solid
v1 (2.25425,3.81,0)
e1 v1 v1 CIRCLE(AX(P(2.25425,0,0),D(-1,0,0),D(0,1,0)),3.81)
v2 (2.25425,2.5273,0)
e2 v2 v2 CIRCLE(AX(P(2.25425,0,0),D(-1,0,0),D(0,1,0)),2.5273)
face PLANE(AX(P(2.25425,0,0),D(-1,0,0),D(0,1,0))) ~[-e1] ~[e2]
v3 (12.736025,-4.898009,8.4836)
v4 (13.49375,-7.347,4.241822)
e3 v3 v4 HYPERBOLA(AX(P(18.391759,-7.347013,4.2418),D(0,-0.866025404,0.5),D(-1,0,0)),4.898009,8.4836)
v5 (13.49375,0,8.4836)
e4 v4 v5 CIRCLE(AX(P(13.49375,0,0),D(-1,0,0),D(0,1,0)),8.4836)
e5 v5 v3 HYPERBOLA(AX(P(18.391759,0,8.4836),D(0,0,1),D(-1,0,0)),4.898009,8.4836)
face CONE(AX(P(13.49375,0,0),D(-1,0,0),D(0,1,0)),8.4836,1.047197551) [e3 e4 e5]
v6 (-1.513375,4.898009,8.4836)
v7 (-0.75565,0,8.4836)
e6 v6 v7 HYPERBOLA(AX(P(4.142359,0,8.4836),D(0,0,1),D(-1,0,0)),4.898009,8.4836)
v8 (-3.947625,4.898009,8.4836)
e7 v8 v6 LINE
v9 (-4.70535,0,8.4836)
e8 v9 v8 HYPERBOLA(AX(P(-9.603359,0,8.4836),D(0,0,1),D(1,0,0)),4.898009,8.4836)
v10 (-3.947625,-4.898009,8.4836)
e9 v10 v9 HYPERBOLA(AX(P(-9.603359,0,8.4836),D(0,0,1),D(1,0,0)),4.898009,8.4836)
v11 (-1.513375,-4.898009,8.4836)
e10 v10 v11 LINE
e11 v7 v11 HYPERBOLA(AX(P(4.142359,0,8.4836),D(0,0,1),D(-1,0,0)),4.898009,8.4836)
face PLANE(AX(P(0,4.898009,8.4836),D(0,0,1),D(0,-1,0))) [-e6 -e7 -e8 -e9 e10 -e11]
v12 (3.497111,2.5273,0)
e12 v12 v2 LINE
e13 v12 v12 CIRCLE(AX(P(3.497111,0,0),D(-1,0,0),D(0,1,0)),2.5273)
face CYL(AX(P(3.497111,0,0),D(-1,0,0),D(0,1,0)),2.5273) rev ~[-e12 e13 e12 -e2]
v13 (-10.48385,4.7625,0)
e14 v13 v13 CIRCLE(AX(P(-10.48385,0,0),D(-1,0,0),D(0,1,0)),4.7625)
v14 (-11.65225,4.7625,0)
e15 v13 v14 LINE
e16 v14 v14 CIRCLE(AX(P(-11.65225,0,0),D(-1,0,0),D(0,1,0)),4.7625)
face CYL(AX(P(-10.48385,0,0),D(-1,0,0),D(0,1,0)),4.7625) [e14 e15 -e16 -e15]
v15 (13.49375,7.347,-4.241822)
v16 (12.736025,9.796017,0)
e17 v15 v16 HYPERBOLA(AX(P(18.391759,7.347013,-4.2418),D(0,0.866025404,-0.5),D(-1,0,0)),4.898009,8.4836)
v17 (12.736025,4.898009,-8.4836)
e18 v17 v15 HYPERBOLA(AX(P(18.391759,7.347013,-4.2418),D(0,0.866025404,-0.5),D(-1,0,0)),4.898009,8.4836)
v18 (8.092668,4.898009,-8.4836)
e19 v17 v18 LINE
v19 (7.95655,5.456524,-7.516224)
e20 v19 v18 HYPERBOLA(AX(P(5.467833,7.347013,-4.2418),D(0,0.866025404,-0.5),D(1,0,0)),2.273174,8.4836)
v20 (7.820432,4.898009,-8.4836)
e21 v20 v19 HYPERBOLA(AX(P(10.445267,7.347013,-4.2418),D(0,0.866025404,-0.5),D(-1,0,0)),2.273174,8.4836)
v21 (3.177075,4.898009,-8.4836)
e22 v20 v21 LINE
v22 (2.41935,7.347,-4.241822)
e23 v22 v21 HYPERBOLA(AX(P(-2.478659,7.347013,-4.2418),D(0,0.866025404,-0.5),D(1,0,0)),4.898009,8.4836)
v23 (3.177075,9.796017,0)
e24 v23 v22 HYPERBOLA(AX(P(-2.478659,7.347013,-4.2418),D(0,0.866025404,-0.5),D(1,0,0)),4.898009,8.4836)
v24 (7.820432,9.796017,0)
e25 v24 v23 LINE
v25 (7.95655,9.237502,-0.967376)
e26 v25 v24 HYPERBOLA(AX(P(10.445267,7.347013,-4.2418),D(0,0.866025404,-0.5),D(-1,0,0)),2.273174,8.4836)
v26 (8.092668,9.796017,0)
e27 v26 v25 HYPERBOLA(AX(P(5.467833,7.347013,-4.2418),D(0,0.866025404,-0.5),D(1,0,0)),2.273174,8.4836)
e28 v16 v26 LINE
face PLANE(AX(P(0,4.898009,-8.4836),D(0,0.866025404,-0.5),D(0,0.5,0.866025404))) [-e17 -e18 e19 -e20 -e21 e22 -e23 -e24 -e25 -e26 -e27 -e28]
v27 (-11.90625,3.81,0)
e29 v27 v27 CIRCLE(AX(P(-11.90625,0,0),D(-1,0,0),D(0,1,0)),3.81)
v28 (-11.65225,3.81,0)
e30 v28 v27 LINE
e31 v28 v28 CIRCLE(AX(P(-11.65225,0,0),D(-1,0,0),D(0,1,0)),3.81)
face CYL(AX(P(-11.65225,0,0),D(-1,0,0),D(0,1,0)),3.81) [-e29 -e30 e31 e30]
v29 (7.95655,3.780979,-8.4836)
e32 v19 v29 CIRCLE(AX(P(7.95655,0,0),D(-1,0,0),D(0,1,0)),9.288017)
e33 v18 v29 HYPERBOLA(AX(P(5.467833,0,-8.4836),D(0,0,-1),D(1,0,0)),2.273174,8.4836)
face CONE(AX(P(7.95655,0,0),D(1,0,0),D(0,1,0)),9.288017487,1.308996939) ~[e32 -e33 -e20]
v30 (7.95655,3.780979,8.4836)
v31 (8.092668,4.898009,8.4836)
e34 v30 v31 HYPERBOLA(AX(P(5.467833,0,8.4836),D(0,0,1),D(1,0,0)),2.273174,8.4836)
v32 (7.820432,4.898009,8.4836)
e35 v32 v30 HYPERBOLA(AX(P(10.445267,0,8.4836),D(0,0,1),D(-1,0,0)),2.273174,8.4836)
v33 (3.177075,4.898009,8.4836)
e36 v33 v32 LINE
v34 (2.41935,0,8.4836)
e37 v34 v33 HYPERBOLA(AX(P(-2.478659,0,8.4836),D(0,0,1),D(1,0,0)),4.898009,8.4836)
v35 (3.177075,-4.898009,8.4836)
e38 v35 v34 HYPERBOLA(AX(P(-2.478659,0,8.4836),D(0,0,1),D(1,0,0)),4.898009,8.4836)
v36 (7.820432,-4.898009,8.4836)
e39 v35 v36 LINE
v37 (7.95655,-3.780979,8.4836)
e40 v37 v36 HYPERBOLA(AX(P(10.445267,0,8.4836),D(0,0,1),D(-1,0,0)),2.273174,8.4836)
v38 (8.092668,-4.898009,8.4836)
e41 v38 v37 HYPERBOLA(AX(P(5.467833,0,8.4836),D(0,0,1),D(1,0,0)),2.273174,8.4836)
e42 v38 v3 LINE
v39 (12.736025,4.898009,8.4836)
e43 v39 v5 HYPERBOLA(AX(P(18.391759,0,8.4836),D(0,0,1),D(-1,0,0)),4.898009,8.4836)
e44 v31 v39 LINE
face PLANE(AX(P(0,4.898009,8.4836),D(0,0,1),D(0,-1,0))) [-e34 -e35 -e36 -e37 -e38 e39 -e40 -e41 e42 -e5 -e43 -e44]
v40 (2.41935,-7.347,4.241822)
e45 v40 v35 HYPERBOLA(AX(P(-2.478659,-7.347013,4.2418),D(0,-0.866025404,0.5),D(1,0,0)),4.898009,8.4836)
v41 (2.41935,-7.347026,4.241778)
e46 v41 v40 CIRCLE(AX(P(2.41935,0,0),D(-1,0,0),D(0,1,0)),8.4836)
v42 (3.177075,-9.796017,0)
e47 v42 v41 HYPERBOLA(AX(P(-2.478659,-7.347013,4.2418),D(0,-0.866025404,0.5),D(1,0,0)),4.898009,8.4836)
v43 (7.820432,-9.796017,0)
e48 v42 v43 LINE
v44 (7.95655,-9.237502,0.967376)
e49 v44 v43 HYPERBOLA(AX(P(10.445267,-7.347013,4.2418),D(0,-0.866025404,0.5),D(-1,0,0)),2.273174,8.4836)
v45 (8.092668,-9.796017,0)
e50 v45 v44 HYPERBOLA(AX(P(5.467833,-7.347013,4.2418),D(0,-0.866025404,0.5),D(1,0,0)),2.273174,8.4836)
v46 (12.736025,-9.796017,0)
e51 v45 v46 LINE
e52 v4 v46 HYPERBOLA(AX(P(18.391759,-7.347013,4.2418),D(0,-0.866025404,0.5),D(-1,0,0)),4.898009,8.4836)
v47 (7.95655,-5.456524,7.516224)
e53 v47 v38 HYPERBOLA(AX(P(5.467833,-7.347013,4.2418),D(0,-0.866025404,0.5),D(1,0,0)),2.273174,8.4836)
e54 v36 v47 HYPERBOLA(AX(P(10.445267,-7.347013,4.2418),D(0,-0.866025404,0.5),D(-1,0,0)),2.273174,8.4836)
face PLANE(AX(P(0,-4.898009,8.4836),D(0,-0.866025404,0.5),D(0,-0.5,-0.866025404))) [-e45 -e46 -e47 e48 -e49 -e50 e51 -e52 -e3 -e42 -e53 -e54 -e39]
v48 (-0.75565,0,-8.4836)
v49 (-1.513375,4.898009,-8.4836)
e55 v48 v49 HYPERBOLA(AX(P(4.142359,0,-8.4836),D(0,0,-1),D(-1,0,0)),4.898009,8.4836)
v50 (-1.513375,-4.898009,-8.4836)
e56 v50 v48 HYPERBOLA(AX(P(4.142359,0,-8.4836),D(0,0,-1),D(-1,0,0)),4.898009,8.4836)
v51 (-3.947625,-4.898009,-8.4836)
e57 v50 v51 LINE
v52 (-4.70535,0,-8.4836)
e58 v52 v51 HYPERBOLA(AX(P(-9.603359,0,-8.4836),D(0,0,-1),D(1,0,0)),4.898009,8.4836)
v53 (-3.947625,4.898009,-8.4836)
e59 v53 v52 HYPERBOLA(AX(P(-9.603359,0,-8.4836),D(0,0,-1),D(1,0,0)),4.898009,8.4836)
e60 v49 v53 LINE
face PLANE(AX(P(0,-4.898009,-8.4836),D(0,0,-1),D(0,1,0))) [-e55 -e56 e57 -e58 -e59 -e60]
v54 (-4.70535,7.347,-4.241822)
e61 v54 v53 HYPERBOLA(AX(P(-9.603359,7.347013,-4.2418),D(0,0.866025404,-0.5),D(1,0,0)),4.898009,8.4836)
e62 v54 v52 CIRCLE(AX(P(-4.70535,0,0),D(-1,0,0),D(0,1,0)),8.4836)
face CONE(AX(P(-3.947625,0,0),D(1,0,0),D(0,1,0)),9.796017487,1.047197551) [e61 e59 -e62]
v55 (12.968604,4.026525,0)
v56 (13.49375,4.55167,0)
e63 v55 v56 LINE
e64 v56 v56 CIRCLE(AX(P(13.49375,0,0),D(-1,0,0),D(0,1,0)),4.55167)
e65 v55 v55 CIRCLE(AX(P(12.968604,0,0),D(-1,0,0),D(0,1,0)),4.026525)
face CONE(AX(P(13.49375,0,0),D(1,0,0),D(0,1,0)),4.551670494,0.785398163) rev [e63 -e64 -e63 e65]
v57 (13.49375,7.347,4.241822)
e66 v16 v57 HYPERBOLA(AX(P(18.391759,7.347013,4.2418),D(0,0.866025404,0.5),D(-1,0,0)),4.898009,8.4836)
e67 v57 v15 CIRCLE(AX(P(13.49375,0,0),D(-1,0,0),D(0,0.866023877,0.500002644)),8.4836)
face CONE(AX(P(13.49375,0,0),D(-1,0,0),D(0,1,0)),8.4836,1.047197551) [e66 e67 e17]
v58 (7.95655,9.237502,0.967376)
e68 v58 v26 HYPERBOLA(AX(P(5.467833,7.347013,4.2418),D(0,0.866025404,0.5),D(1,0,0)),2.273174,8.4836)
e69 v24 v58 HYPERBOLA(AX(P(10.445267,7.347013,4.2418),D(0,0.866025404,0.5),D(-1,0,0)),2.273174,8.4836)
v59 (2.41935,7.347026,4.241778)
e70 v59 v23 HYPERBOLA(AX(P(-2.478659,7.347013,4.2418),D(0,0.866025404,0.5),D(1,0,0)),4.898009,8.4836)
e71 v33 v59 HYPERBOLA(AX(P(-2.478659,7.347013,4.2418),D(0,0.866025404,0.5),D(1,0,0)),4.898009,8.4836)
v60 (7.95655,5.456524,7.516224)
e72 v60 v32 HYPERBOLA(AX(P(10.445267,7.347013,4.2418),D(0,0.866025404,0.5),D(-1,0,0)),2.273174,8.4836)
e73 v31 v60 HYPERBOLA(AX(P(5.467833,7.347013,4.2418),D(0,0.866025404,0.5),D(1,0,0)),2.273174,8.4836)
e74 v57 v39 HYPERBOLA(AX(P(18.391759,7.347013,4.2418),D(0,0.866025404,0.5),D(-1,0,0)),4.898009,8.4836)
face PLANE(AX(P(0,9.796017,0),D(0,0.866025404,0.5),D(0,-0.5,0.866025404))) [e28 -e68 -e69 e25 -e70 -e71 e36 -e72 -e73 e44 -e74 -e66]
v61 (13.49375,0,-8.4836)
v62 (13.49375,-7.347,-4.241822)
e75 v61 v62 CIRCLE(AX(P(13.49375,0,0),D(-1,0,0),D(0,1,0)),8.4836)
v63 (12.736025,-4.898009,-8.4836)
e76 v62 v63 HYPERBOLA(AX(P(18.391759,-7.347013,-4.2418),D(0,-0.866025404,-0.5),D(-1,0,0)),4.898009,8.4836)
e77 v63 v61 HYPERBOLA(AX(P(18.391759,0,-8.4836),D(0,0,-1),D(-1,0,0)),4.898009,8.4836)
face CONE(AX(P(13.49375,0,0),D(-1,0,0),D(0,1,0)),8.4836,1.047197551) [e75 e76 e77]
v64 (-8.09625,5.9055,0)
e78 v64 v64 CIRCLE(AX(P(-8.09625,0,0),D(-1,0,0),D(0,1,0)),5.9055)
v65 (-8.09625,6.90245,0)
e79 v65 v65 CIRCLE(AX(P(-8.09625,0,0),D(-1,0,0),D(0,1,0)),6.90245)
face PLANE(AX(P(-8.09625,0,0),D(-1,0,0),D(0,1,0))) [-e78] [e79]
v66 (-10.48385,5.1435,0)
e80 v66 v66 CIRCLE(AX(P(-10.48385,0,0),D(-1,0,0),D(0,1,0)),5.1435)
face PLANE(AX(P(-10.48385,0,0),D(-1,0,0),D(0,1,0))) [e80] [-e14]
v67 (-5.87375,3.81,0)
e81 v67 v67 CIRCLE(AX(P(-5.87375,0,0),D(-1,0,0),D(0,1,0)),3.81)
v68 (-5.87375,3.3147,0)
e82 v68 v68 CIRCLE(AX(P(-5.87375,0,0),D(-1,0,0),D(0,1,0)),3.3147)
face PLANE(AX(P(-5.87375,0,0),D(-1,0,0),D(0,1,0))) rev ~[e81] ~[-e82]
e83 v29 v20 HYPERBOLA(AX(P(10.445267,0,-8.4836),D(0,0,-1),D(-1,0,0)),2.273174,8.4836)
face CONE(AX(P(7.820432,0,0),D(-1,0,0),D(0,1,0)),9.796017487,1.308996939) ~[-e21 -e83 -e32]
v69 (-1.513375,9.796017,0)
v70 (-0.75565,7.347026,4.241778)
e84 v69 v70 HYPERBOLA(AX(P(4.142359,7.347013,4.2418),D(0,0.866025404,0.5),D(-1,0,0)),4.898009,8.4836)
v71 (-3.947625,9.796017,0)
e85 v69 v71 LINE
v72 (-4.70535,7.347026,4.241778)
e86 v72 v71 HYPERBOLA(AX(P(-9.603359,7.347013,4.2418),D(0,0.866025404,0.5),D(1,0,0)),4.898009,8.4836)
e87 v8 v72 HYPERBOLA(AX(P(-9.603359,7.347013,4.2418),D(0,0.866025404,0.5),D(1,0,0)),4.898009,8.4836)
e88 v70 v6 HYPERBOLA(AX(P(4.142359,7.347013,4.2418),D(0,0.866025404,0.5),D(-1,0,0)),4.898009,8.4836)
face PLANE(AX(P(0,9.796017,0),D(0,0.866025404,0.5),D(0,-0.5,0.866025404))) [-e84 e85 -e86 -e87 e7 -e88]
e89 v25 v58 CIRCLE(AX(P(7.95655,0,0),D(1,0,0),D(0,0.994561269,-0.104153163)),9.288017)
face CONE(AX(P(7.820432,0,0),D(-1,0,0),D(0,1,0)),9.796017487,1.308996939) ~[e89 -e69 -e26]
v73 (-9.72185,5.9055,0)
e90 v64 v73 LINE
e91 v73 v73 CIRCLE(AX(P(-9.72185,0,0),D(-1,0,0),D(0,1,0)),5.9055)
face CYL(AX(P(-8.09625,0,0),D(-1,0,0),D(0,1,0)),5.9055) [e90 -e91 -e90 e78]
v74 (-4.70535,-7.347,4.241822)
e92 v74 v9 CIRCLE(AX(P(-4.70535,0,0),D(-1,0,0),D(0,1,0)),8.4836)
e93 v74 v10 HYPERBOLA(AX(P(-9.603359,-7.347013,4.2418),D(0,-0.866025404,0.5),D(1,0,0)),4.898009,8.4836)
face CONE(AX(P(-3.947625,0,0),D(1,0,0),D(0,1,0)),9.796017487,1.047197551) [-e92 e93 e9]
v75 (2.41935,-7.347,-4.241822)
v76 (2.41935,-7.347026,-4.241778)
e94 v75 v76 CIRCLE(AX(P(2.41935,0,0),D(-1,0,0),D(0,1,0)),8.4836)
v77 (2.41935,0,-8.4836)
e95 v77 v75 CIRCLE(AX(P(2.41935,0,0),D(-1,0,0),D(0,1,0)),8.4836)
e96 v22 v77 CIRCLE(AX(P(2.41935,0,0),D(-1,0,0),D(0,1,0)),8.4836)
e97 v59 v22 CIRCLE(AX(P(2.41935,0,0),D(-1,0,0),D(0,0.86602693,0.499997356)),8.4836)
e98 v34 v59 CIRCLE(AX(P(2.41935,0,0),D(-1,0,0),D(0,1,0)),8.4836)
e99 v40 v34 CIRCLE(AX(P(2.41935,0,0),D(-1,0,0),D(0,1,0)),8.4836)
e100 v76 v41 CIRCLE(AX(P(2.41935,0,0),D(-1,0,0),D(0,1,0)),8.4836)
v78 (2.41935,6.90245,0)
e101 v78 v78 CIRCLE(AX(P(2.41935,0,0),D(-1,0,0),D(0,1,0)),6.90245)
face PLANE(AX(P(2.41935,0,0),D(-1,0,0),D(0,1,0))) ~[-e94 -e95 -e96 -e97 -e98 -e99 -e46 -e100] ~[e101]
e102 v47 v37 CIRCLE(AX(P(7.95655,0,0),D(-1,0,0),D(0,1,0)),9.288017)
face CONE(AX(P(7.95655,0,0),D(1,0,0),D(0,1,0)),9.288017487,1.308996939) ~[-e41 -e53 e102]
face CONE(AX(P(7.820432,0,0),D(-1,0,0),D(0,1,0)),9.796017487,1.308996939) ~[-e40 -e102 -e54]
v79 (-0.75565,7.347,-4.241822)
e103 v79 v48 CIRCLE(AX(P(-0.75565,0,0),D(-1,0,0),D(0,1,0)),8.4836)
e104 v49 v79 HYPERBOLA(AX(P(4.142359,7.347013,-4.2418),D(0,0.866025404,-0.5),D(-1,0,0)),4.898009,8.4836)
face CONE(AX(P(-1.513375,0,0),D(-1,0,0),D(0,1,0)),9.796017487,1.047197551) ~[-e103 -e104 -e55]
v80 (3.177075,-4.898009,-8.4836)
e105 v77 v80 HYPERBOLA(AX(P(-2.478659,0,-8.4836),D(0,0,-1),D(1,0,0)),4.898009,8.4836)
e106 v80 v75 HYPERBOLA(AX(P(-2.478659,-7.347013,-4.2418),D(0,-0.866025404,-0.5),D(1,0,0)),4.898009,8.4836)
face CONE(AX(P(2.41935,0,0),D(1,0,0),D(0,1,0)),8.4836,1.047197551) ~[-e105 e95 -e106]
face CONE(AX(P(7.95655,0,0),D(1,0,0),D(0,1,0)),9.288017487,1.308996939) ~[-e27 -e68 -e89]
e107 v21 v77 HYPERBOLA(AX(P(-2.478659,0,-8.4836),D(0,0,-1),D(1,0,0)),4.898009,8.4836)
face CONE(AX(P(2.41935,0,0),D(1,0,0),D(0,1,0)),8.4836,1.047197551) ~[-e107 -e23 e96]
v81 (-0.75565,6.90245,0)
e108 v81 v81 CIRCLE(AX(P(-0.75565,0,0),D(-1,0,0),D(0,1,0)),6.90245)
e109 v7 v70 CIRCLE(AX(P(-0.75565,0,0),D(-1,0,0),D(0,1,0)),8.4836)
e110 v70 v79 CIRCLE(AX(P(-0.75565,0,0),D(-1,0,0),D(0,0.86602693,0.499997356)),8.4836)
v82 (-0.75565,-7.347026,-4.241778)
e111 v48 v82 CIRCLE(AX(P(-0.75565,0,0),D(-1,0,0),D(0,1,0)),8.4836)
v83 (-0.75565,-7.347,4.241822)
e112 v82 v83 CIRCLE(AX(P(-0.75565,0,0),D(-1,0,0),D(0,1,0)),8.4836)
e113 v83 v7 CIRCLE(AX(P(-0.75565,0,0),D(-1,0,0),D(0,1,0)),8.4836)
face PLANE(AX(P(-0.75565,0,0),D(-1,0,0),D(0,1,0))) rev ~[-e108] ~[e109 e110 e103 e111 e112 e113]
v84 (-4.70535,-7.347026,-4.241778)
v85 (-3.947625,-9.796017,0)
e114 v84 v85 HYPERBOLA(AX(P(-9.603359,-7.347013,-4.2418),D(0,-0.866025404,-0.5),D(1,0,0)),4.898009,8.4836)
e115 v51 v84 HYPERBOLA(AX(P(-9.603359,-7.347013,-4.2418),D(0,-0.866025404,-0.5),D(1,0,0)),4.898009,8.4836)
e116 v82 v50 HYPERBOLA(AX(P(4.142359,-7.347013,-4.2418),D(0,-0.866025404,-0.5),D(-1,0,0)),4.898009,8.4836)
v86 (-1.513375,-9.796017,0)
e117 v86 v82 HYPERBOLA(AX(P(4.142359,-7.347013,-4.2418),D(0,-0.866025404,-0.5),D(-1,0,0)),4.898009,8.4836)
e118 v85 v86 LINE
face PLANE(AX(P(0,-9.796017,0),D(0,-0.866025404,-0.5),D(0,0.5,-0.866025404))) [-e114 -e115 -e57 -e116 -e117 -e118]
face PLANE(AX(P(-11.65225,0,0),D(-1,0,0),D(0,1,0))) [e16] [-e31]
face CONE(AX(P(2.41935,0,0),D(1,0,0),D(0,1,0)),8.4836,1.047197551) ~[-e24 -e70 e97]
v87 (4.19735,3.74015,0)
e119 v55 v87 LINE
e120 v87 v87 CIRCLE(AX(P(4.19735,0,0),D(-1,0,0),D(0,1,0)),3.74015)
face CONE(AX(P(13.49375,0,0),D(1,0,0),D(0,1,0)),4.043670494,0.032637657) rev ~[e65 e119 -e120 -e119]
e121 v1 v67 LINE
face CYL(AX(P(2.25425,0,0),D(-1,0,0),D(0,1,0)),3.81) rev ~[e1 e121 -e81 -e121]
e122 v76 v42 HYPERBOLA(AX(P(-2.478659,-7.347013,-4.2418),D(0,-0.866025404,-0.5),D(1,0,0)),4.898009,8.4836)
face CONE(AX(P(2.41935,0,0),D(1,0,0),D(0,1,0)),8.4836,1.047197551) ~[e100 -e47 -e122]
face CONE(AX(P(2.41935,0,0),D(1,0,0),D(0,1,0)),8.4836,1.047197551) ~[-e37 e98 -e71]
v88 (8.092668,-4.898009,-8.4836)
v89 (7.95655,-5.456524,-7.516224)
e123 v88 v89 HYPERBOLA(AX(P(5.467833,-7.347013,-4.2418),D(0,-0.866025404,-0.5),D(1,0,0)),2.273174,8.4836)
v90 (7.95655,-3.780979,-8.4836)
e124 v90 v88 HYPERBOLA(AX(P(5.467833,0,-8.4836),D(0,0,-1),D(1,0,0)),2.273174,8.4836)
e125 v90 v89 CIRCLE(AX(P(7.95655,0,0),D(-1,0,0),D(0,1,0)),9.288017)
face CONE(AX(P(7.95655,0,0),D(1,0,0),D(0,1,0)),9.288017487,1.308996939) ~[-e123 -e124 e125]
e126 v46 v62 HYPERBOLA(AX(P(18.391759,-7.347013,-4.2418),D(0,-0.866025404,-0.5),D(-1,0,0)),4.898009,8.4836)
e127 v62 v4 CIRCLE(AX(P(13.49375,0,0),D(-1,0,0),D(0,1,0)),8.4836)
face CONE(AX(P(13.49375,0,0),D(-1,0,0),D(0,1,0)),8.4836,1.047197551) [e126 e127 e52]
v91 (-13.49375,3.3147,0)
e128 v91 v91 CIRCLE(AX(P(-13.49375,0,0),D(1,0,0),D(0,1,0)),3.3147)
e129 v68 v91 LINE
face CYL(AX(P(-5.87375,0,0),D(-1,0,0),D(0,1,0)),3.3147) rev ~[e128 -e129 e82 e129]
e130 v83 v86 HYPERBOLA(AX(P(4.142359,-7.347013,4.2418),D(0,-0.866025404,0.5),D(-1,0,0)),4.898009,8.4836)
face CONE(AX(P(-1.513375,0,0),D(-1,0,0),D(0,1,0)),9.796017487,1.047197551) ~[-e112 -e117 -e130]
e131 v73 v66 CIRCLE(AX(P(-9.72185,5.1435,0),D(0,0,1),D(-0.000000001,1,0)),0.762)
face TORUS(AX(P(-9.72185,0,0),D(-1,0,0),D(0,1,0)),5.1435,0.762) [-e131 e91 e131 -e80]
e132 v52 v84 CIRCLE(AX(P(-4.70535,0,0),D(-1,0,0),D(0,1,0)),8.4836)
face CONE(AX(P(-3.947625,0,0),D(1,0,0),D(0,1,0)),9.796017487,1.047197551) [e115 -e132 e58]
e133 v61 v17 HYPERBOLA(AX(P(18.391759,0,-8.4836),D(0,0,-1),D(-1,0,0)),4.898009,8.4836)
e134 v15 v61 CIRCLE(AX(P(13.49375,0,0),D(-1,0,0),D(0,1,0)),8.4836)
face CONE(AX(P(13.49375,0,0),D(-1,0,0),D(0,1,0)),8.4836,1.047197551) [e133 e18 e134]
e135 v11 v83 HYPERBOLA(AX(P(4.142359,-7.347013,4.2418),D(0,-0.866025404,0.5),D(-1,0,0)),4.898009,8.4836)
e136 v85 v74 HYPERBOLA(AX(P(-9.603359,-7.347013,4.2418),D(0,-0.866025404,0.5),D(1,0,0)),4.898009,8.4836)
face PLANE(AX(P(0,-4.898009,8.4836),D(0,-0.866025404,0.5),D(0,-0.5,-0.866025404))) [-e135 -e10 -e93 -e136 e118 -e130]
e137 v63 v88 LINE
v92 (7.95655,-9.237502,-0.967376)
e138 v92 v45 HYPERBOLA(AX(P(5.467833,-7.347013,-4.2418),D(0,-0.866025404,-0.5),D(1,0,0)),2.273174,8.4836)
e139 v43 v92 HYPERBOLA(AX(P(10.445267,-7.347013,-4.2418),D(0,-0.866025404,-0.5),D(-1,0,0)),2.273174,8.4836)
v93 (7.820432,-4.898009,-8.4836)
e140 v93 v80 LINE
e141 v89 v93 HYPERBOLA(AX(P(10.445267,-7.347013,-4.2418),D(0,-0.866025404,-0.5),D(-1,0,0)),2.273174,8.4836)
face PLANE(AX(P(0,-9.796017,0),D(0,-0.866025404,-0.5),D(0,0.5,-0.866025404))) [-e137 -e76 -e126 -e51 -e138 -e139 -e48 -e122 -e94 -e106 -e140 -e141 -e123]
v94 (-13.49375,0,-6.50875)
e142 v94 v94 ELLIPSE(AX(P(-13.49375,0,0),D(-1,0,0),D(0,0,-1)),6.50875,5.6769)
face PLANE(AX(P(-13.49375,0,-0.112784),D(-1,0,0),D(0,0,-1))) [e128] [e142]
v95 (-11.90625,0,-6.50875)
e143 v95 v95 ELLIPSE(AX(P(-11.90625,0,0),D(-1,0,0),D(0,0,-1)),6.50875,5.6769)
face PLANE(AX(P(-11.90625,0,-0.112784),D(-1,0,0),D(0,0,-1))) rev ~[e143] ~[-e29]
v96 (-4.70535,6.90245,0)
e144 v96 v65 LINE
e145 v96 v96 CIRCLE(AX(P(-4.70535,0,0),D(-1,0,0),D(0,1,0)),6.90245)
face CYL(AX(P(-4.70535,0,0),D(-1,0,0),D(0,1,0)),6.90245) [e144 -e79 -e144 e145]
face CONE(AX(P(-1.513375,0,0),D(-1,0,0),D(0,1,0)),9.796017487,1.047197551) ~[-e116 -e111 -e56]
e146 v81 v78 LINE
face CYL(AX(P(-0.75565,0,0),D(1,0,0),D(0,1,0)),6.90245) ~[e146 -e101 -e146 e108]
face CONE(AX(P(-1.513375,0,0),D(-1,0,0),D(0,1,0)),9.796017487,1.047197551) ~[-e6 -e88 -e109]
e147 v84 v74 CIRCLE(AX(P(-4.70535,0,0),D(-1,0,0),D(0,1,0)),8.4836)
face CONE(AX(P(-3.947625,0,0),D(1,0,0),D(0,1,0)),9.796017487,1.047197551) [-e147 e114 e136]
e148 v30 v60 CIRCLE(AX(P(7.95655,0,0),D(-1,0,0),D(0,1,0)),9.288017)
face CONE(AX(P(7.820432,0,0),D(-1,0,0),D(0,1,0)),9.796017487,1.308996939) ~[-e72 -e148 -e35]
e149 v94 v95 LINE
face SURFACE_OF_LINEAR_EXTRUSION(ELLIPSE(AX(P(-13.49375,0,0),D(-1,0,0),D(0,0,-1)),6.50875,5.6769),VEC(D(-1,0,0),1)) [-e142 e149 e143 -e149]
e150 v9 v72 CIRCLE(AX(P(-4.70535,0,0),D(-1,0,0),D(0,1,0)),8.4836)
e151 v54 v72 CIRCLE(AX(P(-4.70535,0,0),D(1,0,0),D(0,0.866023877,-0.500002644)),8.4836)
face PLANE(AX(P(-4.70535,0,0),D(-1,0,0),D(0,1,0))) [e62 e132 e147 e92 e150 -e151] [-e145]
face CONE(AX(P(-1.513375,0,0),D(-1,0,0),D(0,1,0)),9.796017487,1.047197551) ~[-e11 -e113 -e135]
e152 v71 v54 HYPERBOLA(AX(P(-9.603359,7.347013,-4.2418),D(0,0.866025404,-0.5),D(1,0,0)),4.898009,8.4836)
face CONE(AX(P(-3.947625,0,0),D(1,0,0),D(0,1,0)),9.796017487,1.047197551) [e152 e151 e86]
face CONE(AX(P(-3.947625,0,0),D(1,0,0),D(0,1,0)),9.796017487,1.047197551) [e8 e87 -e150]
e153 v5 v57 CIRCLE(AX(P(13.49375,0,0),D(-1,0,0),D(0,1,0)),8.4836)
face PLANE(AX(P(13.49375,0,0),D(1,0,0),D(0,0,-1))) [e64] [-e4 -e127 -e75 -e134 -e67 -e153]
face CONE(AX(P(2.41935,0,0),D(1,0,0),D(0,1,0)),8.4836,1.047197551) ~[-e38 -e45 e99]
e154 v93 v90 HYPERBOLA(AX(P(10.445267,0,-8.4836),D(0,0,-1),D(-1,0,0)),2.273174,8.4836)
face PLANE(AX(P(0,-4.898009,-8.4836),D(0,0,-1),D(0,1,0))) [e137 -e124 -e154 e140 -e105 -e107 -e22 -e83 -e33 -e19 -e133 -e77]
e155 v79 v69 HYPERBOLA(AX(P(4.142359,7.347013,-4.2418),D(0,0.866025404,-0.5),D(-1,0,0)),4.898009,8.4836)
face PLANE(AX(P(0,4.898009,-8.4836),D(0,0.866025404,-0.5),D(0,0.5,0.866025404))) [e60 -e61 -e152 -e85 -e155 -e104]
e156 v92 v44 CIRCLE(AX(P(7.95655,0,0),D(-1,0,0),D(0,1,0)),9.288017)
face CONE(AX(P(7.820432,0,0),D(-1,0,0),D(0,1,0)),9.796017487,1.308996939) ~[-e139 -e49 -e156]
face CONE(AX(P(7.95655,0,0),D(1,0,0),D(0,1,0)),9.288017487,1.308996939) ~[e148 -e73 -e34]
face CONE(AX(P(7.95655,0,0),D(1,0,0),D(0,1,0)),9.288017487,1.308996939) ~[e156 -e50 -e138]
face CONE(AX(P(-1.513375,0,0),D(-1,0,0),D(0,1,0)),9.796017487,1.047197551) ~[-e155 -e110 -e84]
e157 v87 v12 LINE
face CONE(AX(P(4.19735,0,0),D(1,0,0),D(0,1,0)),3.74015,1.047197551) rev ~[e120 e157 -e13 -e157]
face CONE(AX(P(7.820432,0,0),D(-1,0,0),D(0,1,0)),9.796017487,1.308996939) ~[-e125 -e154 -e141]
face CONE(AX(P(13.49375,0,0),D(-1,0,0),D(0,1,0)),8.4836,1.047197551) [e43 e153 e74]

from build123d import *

# Parameters (mm, degrees)
BOSS_EXTRUDE1_DEPTH = 13.49375
CHAMFER1_SIZE2      = 0.508
CHAMFER1_SIZE       = 0.525425432
SKETCH3_RX          = 6.50875
SKETCH3_RY          = 5.6769
SKETCH3_R           = 3.3147
BOSS_EXTRUDE2_DEPTH = 1.5875


with BuildPart() as part:
    # Sketch1 → Boss-Extrude1 (new body, symmetric)
    with BuildSketch(Plane(origin=(0, 0, 0), x_dir=(0, 0, -1), z_dir=(1, 0, 0))):
        Polygon((0, 9.796017487), (-8.4836, 4.898008744), (-8.4836, -4.898008744), (0, -9.796017487), (8.4836, -4.898008744), (8.4836, 4.898008744), align=None)
    extrude(amount=BOSS_EXTRUDE1_DEPTH, both=True)

    # Sketch2 → Cut-Revolve1 (revolve, cut)
    with BuildSketch(Plane.XY):
        Polygon((13.49375, 9.796017487), (13.49375, 8.4836), (12.73602541, 9.796017487), align=None)
        Polygon((3.17707459, 9.796017487), (-1.51337459, 9.796017487), (-0.75565, 8.4836), (-0.75565, 6.90245), (2.41935, 6.90245), (2.41935, 8.4836), align=None)
        Polygon((7.82043181, 9.796017487), (7.95655, 9.288017487), (8.09266819, 9.796017487), align=None)
        with BuildLine():
            Line((-3.94762541, 9.796017487), (-4.70535, 8.4836))
            Line((-4.70535, 8.4836), (-4.70535, 6.90245))
            Line((-4.70535, 6.90245), (-8.09625, 6.90245))
            Line((-8.09625, 6.90245), (-8.09625, 5.9055))
            Line((-8.09625, 5.9055), (-9.72185, 5.9055))
            ThreePointArc((-9.72185, 5.9055), (-10.260665367, 5.682315367), (-10.48385, 5.1435))
            Line((-10.48385, 5.1435), (-10.48385, 4.7625))
            Line((-10.48385, 4.7625), (-11.65225, 4.7625))
            Line((-11.65225, 4.7625), (-11.65225, 3.81))
            Line((-11.65225, 3.81), (-13.49375, 3.81))
            Line((-13.49375, 3.81), (-13.49375, 9.796017487))
            Line((-13.49375, 9.796017487), (-3.94762541, 9.796017487))
        make_face()
        Polygon((13.49375, 4.043670494), (4.19735, 3.74015), (3.497110726, 2.5273), (2.25425, 2.5273), (2.25425, 3.81), (-5.87375, 3.81), (-5.87375, 3.3147), (-13.49375, 3.3147), (-13.49375, 0), (13.49375, 0), align=None)
    revolve(axis=Axis((13.49375, 0, 0), (-1, 0, 0)), mode=Mode.SUBTRACT)

    # Chamfer1
    chamfer1_edges = [part.edges().sort_by_distance(p)[0] for p in [
        (13.49375, -4.043670494, 0),
    ]]
    chamfer(chamfer1_edges, length=CHAMFER1_SIZE, length2=CHAMFER1_SIZE2)

    # Sketch3 → Boss-Extrude2 (add)
    with BuildSketch(Plane.ZY.offset(13.49375)):
        with Locations(Location((0, 0), (0, 0, 180))):
            Ellipse(SKETCH3_RX, SKETCH3_RY)
        Circle(SKETCH3_R, mode=Mode.SUBTRACT)
    extrude(amount=-BOSS_EXTRUDE2_DEPTH)


solid = part.part
